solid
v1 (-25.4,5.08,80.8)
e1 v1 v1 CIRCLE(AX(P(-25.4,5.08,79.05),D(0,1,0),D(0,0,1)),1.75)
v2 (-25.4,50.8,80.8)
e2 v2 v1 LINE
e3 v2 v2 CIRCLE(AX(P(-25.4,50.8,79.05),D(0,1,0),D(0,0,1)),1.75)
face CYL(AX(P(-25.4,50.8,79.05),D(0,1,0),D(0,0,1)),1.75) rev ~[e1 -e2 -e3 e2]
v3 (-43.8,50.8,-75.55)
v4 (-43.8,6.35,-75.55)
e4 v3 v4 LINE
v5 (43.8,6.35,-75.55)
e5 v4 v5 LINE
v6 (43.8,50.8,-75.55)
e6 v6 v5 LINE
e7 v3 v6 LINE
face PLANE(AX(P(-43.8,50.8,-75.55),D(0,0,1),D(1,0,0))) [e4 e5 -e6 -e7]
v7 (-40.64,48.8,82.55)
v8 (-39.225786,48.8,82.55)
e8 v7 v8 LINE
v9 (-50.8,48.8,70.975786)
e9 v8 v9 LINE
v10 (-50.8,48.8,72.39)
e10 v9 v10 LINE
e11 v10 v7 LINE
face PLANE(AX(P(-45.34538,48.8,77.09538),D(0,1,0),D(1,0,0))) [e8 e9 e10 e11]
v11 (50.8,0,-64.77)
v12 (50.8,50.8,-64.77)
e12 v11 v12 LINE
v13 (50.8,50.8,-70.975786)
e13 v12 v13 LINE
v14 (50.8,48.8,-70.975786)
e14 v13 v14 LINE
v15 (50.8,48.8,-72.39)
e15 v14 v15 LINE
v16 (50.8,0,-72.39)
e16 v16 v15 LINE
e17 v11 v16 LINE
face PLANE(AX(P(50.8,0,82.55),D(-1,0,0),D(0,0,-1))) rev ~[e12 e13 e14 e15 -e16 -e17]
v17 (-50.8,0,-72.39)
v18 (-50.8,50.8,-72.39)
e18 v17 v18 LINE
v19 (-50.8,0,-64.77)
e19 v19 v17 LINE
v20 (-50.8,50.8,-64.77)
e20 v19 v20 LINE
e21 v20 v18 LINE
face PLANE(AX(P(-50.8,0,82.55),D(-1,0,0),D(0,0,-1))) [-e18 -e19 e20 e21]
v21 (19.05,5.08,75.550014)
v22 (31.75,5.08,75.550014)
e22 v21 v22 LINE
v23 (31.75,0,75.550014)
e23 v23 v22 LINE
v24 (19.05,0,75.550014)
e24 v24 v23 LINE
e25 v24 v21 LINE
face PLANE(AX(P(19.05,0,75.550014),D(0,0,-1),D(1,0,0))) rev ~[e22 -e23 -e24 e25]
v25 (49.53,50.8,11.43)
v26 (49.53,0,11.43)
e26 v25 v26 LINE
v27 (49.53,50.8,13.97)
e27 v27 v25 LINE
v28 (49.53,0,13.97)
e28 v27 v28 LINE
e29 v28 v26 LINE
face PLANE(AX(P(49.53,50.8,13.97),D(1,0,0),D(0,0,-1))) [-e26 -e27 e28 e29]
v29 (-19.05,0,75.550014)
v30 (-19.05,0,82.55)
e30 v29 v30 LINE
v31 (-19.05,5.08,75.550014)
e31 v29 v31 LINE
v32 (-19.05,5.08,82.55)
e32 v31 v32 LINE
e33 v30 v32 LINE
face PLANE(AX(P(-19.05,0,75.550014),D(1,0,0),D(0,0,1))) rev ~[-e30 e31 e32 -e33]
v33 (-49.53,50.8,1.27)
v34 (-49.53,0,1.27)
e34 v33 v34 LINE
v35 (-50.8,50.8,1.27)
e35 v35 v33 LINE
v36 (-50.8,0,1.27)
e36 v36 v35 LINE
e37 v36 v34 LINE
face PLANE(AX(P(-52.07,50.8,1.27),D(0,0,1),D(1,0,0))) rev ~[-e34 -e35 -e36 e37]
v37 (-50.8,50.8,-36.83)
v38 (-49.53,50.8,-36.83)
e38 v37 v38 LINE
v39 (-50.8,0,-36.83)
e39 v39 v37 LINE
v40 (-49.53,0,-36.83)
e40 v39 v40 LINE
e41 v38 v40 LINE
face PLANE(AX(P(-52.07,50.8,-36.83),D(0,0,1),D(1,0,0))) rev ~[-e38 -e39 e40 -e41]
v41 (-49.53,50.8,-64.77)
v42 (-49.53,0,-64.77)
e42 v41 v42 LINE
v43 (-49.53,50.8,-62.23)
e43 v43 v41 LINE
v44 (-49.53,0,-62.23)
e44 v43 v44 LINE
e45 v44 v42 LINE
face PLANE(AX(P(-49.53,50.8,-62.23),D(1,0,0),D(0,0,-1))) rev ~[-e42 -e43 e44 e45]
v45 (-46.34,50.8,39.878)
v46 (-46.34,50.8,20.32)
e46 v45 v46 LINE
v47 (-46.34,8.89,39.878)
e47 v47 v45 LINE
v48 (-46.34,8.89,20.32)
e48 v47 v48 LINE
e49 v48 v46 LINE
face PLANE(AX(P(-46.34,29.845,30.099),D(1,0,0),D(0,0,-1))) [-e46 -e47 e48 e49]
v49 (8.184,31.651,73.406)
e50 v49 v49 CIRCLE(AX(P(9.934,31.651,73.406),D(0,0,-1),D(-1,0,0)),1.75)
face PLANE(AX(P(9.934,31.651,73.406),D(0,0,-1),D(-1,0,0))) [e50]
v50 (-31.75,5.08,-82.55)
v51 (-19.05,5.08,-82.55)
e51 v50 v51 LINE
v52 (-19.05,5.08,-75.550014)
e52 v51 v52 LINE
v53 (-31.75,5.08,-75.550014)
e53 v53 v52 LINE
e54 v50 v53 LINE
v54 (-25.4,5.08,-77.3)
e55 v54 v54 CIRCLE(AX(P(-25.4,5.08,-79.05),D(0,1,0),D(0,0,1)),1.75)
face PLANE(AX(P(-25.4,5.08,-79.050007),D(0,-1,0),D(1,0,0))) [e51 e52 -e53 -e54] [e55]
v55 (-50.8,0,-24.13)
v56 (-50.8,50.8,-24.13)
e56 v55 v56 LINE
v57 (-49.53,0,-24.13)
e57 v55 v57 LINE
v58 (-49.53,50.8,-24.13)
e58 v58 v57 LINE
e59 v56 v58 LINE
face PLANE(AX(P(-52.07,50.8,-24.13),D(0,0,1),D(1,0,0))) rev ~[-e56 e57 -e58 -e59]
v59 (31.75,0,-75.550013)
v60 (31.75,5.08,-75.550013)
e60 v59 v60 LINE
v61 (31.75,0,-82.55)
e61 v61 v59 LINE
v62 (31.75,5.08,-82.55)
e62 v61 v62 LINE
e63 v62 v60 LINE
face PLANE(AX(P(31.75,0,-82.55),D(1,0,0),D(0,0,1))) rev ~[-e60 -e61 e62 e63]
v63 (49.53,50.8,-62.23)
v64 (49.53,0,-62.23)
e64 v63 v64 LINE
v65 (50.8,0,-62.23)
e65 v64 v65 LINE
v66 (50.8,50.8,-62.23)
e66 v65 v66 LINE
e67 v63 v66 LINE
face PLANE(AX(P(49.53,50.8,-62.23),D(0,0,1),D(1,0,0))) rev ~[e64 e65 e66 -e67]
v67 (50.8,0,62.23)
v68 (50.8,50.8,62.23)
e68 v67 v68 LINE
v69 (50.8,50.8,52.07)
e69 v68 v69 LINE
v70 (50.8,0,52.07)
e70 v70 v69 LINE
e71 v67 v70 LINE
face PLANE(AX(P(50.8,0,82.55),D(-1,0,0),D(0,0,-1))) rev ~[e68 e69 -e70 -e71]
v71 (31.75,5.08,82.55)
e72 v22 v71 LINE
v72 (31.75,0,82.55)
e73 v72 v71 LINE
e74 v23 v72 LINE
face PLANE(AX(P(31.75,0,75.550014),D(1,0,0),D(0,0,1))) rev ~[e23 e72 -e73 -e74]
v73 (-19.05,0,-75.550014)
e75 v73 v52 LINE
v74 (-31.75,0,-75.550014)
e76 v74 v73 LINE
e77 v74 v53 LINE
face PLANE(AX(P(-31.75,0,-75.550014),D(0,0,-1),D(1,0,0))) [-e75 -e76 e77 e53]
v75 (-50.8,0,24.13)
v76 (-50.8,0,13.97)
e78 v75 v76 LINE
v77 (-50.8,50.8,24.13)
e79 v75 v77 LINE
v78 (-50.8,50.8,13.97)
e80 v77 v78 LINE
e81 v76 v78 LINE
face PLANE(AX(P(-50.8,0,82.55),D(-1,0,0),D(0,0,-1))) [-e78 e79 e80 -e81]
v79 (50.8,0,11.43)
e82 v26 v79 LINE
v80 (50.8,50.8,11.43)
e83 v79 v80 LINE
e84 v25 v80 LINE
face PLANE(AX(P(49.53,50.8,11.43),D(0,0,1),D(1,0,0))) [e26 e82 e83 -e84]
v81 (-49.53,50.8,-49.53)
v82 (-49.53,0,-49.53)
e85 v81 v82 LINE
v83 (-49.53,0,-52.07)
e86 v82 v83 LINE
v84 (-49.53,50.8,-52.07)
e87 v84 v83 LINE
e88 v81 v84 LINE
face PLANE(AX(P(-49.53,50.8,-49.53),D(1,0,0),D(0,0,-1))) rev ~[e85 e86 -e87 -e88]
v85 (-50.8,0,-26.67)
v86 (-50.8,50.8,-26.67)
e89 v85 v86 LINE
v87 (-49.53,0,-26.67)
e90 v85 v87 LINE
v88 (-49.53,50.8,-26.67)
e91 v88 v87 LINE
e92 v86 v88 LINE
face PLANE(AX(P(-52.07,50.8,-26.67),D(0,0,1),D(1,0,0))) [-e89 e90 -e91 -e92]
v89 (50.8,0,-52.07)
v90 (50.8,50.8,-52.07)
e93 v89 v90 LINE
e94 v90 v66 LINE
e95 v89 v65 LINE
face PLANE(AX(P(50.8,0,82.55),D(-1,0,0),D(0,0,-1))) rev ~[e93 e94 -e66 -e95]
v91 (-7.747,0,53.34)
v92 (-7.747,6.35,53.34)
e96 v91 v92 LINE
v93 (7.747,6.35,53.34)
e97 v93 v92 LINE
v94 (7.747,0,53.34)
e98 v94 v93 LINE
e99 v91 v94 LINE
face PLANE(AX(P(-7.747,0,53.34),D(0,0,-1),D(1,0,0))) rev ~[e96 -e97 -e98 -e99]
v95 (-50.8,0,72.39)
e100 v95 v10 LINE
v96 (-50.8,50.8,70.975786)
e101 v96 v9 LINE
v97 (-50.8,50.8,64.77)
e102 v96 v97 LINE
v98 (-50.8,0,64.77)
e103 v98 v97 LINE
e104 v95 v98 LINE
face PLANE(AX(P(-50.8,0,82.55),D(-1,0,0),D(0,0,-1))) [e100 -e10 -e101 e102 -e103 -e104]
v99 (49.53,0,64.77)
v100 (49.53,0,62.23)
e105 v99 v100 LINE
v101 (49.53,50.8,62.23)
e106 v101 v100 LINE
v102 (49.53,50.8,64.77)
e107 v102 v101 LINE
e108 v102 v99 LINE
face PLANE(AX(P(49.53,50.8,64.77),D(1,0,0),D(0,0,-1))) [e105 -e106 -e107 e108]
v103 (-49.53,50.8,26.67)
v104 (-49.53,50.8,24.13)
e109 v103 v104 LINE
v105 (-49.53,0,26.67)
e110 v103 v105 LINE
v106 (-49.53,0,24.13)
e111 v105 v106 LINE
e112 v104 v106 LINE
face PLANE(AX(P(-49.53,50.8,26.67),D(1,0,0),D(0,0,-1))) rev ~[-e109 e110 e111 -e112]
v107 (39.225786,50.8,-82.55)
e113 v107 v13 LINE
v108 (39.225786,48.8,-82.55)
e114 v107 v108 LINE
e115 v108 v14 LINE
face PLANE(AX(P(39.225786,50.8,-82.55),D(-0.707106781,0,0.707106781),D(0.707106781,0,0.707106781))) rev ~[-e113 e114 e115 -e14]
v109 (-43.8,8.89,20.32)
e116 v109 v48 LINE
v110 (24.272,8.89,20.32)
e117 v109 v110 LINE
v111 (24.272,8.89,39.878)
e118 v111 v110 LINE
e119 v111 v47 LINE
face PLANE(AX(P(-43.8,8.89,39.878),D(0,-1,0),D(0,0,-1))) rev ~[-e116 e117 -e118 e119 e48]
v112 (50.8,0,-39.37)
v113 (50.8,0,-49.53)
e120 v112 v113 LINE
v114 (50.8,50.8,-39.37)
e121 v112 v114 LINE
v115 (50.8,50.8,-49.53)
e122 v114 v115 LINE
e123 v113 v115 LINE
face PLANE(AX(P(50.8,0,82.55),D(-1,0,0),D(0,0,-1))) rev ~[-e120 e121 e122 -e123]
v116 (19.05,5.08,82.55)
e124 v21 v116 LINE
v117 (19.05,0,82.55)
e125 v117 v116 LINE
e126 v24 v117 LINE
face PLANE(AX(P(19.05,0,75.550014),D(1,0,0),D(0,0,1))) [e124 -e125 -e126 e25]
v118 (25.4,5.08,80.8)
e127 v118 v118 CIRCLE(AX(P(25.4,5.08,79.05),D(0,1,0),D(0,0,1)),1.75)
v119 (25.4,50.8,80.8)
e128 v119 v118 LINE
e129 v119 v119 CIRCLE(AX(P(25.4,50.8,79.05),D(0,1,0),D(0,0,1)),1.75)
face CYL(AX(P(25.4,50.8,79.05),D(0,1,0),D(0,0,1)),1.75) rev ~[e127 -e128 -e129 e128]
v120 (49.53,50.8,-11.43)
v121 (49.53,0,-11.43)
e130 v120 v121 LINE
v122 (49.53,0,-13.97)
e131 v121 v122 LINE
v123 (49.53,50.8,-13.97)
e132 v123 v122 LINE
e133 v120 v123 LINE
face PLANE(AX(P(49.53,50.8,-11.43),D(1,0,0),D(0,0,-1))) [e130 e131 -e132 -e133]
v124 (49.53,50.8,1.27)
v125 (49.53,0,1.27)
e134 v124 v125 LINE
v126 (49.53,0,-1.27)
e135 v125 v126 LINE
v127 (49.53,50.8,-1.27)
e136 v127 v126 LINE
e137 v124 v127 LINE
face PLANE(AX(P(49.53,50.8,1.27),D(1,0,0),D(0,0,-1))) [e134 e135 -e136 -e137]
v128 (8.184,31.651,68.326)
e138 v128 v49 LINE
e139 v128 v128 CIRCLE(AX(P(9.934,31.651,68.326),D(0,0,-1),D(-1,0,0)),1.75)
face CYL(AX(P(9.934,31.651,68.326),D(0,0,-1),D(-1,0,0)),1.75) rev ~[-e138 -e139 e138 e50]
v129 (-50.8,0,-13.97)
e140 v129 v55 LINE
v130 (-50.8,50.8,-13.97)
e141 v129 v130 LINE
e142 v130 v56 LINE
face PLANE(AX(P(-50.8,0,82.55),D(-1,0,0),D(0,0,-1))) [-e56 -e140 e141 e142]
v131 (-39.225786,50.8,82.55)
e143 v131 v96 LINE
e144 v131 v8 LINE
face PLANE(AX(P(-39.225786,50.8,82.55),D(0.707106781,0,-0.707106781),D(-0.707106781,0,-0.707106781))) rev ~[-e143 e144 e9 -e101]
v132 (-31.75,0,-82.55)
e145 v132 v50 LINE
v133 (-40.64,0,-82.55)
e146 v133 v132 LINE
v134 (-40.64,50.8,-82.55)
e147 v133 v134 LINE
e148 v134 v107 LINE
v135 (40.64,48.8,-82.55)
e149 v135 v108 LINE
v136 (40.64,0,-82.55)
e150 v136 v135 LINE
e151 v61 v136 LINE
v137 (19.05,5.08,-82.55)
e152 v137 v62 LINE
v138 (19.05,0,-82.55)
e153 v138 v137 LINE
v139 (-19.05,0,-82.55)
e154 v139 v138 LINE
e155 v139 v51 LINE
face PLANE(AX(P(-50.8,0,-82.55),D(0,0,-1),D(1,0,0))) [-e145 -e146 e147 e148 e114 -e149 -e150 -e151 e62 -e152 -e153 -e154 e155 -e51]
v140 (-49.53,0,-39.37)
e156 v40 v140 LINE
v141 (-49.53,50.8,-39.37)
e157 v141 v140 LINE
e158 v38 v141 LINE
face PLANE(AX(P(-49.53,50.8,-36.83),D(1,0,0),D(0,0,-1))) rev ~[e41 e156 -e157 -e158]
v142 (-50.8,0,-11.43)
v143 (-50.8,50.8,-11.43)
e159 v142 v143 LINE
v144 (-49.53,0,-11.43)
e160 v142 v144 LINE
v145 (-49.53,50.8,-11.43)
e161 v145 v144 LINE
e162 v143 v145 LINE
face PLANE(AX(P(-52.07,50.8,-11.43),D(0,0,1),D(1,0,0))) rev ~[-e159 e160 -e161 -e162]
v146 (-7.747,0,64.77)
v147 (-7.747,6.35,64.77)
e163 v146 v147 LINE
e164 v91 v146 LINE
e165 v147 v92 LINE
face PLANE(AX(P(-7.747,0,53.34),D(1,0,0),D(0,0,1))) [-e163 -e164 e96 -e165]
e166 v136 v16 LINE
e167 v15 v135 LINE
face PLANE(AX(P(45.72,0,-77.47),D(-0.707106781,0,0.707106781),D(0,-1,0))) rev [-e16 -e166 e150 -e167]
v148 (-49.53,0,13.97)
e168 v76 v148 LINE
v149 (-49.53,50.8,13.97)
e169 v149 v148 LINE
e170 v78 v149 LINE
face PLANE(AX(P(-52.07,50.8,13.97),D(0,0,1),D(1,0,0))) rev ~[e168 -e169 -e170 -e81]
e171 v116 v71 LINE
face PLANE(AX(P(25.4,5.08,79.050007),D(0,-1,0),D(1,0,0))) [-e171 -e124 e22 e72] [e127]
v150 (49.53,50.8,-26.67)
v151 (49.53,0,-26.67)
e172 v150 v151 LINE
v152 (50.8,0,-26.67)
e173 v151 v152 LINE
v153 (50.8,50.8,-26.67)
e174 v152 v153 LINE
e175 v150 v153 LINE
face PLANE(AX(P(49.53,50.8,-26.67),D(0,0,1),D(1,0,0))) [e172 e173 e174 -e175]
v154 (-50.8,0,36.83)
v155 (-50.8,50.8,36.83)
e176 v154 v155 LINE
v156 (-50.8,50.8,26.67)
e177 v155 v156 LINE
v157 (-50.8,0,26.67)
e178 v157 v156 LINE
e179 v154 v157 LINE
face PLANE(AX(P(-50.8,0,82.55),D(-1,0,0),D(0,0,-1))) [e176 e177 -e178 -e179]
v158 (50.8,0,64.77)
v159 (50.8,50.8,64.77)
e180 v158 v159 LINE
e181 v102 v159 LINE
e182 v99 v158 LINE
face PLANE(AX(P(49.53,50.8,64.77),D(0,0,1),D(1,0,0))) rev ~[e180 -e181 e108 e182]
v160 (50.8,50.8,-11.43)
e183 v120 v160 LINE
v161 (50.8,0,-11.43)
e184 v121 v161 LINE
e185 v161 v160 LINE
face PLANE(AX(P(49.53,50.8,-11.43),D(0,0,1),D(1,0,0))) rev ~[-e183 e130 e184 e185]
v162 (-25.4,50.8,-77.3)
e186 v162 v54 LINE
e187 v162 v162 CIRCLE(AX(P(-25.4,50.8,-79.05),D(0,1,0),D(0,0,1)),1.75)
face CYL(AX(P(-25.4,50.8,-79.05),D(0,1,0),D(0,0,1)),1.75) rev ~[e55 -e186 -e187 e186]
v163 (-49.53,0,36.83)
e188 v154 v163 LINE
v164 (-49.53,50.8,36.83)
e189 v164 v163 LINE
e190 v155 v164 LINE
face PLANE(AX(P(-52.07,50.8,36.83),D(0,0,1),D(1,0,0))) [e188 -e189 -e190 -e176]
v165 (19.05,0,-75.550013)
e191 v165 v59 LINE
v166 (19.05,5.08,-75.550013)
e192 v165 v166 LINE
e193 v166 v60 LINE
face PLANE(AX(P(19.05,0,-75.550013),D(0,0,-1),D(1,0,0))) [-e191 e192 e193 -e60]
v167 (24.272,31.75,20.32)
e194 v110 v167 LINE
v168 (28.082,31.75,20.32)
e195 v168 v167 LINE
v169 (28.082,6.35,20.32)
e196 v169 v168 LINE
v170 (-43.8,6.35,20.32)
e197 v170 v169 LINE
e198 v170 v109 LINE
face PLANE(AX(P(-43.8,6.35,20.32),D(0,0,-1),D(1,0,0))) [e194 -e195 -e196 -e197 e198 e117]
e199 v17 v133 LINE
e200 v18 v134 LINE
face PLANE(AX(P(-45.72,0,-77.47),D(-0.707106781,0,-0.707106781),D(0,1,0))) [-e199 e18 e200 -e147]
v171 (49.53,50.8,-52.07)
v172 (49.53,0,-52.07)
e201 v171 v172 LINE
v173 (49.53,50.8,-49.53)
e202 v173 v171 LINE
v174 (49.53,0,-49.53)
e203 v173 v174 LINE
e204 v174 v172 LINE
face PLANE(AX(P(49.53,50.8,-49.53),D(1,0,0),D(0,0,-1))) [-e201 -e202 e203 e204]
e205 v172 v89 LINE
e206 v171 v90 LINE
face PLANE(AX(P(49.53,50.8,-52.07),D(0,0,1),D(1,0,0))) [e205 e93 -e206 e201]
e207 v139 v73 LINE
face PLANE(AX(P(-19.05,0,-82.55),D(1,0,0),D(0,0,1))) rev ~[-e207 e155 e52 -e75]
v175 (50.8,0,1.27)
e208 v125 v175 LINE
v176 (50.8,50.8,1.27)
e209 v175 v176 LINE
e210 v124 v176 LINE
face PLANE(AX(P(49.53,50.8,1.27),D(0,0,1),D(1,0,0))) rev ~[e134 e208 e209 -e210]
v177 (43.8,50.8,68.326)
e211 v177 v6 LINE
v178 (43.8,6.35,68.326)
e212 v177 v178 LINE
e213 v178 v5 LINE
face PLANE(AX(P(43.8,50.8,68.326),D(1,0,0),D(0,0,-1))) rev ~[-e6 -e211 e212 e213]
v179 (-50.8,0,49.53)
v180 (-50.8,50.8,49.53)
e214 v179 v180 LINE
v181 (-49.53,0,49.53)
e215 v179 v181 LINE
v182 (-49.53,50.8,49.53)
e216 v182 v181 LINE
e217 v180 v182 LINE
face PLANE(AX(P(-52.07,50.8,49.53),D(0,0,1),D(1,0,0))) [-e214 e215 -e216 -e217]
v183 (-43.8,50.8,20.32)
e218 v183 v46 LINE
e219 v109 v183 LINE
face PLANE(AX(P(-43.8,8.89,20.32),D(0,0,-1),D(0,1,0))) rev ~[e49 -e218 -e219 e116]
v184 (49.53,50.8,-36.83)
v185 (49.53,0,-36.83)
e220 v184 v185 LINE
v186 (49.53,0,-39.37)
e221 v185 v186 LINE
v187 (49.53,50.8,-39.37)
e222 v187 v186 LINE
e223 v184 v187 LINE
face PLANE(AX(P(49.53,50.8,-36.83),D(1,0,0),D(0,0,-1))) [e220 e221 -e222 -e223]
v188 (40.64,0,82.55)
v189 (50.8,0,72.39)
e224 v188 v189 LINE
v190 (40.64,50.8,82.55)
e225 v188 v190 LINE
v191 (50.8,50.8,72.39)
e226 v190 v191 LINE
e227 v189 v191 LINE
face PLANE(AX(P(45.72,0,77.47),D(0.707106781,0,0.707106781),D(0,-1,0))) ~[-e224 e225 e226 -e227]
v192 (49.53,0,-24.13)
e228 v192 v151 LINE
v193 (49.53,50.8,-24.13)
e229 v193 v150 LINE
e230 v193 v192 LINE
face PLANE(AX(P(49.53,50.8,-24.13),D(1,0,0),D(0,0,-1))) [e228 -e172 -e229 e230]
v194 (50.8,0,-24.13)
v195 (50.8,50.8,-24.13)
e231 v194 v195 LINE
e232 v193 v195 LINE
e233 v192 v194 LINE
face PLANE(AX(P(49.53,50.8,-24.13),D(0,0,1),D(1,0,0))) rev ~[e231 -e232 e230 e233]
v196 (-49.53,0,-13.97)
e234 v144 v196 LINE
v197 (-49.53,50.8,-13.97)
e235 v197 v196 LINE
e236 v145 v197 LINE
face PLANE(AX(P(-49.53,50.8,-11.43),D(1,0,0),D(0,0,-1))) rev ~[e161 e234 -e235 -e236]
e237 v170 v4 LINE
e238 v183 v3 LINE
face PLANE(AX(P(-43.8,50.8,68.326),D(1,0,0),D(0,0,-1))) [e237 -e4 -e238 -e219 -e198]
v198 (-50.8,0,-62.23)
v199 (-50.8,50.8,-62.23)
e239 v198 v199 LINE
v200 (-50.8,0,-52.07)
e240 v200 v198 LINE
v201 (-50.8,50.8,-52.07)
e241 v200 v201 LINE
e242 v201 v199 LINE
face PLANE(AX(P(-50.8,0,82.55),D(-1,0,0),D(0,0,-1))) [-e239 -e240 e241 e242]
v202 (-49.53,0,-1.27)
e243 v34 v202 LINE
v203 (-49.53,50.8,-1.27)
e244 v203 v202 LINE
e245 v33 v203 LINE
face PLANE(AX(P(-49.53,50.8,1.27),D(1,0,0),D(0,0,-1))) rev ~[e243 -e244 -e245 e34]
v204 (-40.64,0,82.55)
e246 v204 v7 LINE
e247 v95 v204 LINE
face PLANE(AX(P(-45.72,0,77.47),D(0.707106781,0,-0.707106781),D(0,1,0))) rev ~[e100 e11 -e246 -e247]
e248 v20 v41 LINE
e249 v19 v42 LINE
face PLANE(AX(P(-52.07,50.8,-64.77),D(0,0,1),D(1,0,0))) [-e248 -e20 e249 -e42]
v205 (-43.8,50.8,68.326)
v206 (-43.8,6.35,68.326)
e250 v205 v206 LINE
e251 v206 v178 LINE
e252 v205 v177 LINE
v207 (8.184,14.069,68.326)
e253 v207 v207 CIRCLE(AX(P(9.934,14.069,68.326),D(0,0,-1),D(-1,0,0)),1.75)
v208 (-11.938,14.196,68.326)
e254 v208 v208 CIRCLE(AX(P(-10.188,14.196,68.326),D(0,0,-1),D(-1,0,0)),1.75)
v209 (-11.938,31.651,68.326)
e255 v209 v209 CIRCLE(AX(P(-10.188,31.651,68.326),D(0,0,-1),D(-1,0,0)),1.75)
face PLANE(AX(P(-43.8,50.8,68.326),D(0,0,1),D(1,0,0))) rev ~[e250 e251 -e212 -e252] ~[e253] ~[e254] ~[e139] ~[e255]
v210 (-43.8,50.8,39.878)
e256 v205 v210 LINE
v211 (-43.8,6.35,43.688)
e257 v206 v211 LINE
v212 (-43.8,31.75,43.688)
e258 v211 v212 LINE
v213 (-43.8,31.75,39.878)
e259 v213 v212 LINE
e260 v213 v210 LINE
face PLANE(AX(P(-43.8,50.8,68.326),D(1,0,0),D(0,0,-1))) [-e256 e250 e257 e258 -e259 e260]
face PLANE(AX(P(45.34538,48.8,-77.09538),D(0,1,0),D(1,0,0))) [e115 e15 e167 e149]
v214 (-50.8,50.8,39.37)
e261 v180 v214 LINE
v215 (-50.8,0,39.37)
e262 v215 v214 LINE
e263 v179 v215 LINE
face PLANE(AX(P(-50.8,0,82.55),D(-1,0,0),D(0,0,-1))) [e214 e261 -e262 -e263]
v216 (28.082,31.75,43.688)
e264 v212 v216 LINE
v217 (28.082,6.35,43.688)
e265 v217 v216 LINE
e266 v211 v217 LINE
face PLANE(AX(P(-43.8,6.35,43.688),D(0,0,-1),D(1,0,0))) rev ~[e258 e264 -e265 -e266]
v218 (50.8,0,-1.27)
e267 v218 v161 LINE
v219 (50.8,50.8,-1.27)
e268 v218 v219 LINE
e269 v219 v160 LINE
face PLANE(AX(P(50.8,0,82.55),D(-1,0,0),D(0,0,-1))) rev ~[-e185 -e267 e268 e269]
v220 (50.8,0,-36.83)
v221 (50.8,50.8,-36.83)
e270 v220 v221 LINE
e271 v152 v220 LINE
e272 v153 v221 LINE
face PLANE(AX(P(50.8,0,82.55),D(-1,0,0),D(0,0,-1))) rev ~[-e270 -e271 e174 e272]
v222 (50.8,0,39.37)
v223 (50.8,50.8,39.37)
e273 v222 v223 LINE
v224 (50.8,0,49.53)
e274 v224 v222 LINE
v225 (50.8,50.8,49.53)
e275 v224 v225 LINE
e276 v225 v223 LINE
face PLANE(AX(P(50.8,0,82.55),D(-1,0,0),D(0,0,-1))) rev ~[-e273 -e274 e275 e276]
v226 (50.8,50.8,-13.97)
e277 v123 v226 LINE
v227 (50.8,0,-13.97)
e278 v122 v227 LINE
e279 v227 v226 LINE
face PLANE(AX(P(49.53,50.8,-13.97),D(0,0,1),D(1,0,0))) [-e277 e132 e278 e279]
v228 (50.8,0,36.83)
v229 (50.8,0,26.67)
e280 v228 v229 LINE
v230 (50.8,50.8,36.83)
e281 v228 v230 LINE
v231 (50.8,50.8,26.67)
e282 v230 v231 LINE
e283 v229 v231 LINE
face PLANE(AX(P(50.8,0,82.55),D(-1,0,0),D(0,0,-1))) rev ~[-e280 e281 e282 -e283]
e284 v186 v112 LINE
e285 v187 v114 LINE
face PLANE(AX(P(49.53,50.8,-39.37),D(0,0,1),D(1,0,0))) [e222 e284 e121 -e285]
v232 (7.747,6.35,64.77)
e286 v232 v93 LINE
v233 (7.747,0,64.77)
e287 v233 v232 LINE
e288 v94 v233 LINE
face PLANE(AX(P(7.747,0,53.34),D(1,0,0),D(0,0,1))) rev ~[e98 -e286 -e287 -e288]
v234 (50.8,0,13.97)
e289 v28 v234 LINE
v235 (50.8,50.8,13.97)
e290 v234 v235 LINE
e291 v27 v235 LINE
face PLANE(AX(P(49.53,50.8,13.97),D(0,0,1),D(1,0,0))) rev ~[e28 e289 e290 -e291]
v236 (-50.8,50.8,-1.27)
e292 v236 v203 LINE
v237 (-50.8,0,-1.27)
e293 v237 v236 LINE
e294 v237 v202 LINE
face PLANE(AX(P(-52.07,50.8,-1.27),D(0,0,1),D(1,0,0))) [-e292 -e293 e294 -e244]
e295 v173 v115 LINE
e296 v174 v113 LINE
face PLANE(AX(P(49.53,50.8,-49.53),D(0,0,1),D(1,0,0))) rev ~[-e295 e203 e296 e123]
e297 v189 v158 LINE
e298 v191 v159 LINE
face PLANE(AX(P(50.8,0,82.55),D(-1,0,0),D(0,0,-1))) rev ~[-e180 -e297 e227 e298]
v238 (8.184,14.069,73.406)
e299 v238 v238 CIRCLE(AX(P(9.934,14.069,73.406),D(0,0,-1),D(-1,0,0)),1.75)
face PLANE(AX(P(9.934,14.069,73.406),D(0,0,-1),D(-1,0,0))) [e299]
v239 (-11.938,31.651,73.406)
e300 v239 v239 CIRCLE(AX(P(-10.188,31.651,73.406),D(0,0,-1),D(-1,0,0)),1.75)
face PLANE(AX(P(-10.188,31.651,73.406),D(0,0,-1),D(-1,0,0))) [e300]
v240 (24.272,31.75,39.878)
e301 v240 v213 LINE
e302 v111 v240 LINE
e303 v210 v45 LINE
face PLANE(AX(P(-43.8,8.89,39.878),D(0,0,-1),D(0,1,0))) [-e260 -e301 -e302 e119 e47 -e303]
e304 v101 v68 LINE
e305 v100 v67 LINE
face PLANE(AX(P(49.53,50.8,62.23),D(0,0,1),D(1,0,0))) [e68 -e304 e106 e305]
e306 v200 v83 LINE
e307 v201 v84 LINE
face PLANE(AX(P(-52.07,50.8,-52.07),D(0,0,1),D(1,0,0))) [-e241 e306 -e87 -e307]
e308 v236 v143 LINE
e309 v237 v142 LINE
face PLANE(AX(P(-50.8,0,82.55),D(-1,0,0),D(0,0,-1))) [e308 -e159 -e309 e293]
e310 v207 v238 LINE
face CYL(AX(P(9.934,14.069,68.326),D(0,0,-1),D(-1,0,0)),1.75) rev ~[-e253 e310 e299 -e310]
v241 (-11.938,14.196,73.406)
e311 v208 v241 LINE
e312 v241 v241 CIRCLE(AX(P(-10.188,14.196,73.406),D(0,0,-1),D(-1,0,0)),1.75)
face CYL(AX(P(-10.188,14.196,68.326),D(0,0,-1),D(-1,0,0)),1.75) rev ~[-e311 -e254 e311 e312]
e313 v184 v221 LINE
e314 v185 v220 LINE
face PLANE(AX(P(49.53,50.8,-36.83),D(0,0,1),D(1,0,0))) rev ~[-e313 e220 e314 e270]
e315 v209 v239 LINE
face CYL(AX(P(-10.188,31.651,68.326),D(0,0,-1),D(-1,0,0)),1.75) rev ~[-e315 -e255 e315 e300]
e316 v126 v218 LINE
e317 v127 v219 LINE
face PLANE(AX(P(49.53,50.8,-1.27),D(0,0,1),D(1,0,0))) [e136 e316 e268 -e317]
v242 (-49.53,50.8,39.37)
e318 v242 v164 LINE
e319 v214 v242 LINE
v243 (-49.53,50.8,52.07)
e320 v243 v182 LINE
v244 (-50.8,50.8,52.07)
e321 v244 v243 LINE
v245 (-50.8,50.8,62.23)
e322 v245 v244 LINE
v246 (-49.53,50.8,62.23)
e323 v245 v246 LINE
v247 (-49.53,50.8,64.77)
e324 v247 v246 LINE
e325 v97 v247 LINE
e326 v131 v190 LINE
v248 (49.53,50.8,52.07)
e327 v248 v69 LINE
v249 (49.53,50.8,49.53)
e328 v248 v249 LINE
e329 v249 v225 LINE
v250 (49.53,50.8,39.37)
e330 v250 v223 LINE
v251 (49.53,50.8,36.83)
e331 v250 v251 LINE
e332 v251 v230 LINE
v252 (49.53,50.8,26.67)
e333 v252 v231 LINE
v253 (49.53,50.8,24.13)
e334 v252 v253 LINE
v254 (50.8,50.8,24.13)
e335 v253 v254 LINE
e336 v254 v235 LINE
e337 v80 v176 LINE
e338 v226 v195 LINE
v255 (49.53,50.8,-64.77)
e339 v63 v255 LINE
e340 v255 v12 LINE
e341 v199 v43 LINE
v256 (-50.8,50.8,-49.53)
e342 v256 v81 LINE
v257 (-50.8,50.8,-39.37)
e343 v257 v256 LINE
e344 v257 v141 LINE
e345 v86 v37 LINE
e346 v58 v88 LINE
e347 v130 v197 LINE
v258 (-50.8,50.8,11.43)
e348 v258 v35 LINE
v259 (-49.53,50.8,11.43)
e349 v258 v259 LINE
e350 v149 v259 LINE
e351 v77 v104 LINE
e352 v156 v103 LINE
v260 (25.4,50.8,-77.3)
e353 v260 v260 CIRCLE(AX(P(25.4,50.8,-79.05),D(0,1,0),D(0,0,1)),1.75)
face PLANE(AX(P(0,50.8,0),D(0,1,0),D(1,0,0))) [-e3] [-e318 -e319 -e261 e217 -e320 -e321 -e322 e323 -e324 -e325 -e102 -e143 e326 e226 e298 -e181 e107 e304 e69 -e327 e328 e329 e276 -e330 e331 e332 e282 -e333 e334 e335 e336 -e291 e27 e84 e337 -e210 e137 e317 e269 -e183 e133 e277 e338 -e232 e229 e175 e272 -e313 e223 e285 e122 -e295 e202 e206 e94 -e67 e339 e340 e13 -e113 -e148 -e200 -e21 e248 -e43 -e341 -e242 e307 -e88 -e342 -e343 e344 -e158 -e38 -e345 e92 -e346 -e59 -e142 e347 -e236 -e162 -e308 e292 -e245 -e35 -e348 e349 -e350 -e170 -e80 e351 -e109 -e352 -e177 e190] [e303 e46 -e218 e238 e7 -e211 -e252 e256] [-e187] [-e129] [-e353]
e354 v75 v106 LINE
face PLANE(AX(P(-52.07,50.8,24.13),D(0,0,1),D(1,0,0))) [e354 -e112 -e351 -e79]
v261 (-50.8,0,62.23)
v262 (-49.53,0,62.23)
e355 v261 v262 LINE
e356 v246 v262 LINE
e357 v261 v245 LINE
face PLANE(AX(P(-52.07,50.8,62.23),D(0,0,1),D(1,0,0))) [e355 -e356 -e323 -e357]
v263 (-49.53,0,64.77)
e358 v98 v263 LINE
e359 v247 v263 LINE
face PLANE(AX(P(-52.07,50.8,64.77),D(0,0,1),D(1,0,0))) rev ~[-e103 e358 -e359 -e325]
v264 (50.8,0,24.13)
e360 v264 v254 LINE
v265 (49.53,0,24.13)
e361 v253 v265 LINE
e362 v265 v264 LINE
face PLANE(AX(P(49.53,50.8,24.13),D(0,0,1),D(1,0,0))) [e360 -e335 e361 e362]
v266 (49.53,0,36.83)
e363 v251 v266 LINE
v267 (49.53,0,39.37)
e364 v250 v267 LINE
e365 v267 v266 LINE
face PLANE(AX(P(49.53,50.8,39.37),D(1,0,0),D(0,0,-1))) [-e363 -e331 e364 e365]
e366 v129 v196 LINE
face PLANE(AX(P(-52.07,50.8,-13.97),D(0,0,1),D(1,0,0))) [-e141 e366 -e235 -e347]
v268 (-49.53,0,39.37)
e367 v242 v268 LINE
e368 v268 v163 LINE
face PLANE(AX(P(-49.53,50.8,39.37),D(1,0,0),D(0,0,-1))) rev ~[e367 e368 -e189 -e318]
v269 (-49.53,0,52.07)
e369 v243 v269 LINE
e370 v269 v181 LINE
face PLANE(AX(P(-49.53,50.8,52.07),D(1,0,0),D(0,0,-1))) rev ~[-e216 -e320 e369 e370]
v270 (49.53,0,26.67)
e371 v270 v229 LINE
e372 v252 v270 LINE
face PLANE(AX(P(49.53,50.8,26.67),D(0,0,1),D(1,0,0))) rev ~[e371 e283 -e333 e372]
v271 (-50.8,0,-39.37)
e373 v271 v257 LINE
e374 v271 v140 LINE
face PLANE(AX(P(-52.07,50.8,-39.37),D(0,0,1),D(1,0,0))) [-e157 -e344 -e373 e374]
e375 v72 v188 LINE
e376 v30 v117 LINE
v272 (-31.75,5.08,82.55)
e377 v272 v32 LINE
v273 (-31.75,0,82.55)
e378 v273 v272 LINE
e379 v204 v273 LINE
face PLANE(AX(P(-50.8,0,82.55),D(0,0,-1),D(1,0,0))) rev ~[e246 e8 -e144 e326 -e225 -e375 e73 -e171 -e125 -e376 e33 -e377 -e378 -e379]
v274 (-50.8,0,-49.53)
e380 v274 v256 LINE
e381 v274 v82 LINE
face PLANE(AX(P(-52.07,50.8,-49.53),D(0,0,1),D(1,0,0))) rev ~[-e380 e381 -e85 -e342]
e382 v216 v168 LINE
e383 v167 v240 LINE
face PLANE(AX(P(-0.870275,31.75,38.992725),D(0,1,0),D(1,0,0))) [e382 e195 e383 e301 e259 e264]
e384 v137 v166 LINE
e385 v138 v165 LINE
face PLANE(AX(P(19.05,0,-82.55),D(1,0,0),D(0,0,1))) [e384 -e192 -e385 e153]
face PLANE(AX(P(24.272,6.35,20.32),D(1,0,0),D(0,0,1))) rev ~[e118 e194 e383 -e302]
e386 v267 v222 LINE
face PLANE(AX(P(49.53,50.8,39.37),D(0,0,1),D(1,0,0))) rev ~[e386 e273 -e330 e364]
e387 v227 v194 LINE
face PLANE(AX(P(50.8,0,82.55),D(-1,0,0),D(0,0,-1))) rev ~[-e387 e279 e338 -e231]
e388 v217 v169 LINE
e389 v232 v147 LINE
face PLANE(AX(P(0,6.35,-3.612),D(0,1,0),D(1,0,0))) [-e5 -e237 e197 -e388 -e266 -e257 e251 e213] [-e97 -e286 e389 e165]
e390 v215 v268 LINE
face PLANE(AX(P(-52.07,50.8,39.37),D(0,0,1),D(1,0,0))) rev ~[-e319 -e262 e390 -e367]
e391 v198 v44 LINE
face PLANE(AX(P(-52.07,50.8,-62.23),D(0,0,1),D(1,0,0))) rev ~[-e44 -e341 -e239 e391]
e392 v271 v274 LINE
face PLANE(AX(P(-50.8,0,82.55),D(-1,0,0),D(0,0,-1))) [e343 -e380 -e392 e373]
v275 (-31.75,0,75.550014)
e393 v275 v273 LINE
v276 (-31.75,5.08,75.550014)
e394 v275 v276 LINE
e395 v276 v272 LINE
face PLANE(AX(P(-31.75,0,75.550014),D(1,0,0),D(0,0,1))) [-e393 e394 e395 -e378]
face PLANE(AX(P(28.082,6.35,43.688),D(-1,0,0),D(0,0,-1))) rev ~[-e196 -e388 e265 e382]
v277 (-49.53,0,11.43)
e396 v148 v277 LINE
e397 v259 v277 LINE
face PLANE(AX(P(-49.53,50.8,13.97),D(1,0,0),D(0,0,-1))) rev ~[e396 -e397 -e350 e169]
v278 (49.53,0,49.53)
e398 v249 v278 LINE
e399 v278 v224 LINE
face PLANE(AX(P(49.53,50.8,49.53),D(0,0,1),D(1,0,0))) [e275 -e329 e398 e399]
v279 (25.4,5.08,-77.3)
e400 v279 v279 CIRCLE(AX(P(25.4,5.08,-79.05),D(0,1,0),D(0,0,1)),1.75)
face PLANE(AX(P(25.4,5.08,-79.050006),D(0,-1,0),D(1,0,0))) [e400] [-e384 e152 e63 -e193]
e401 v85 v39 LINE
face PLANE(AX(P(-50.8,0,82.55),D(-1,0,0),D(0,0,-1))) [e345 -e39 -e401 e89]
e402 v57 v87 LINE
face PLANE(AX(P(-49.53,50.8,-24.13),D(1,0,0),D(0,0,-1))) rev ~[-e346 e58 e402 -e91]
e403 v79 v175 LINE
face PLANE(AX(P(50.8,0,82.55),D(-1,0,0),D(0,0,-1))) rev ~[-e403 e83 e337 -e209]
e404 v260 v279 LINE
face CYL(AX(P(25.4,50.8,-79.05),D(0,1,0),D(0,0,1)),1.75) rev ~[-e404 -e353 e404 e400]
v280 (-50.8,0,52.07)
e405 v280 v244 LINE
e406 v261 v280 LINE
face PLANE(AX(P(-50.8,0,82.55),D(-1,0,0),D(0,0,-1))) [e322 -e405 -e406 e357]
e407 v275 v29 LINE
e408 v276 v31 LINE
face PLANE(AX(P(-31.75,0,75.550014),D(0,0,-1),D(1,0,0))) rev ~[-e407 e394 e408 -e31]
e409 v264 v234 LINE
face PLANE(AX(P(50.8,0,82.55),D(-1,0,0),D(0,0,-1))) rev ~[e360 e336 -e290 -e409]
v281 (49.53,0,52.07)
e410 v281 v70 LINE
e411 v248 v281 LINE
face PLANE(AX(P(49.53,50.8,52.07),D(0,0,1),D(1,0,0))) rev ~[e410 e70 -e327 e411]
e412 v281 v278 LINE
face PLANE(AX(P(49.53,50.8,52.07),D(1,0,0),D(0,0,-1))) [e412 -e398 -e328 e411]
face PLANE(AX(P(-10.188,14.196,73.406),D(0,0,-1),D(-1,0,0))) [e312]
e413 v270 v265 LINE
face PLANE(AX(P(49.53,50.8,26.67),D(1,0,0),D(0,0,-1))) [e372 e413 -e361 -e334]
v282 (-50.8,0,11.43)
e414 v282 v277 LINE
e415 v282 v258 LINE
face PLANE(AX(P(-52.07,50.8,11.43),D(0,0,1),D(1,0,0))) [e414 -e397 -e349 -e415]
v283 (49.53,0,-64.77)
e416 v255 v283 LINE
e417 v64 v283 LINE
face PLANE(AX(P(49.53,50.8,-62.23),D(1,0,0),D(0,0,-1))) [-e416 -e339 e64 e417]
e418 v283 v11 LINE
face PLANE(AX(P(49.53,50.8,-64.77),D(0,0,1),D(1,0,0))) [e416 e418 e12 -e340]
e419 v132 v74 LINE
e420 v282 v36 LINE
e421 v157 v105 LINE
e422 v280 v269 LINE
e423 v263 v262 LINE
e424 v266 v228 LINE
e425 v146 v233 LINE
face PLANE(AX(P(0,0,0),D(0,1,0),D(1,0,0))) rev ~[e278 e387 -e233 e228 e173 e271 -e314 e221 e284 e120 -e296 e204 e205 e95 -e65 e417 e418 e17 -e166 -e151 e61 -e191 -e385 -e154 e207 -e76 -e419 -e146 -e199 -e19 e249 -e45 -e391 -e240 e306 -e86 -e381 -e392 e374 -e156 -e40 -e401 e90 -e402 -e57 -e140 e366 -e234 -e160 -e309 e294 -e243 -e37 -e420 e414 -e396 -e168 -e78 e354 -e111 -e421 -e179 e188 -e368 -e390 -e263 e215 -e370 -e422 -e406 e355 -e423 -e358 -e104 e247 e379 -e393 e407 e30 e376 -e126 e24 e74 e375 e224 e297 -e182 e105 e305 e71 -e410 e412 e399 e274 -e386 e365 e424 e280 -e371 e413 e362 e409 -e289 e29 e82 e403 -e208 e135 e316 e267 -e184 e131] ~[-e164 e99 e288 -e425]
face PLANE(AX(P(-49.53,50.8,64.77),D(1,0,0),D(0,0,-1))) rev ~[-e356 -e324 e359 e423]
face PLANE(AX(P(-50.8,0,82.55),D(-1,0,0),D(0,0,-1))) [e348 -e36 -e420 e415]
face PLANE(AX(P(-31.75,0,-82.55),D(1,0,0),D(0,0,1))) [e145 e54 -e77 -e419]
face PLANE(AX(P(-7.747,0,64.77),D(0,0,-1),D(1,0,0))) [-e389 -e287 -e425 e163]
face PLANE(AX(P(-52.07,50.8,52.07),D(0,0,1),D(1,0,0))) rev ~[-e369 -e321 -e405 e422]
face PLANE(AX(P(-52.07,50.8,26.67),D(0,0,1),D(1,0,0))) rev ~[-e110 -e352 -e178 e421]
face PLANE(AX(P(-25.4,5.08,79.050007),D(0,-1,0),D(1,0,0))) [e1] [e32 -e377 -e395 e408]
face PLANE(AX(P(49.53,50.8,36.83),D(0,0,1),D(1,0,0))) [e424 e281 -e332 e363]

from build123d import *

# Parameters (mm, degrees)
SKETCH1_W           = 101.6
SKETCH1_H           = 165.1
BOSS_EXTRUDE1_DEPTH = 50.8
SKETCH2_W           = 2.54
SKETCH2_H           = 2.54
CUT_EXTRUDE1_DEPTH  = 110.433918417
CHAMFER1_SIZE       = 10.16
SKETCH3_W           = 87.6
SKETCH3_H           = 143.876
CUT_EXTRUDE2_DEPTH  = 44.45
CUT_EXTRUDE3_DEPTH  = 2
SKETCH5_R           = 1.750000056
CUT_EXTRUDE4_DEPTH  = 110.433918417
SKETCH6_W           = 12.7
SKETCH6_H           = 6.999986
SKETCH6_H_2         = 6.999987499
CUT_EXTRUDE5_DEPTH  = 5.08
SKETCH7_W           = 15.494
SKETCH7_H           = 11.43
CUT_EXTRUDE6_DEPTH  = 110.433918417
SKETCH9_R           = 1.75
CUT_EXTRUDE7_DEPTH  = 5.08
SKETCH10_W          = 68.072
SKETCH10_H          = 19.558
BOSS_EXTRUDE2_DEPTH = 2.54
BOSS_EXTRUDE3_DEPTH = 25.4
SKETCH12_W          = 19.558
SKETCH12_H          = 41.91
CUT_EXTRUDE8_DEPTH  = 2.54


with BuildPart() as part:
    # Sketch1 → Boss-Extrude1 (new body)
    with BuildSketch(Plane(origin=(0, 0, 0), x_dir=(1, 0, 0), z_dir=(0, 1, 0))):
        Rectangle(SKETCH1_W, SKETCH1_H)
    extrude(amount=BOSS_EXTRUDE1_DEPTH)

    # Sketch2 → Cut-Extrude1 (cut, through all)
    with BuildSketch(Plane(origin=(0, 50.8, 0), x_dir=(1, 0, 0), z_dir=(0, 1, 0))):
        with Locations((-50.8, -63.5)):
            Rectangle(SKETCH2_W, SKETCH2_H)
        with Locations((50.8, -63.5)):
            Rectangle(SKETCH2_W, SKETCH2_H)
        with Locations((-50.8, -50.8)):
            Rectangle(SKETCH2_W, SKETCH2_H)
        with Locations((50.8, -50.8)):
            Rectangle(SKETCH2_W, SKETCH2_H)
        with Locations((-50.8, -38.1)):
            Rectangle(SKETCH2_W, SKETCH2_H)
        with Locations((50.8, -38.1)):
            Rectangle(SKETCH2_W, SKETCH2_H)
        with Locations((-50.8, -25.4)):
            Rectangle(SKETCH2_W, SKETCH2_H)
        with Locations((50.8, -25.4)):
            Rectangle(SKETCH2_W, SKETCH2_H)
        with Locations((-50.8, -12.7)):
            Rectangle(SKETCH2_W, SKETCH2_H)
        with Locations((50.8, -12.7)):
            Rectangle(SKETCH2_W, SKETCH2_H)
        with Locations((-50.8, 0)):
            Rectangle(SKETCH2_W, SKETCH2_H)
        with Locations((50.8, 0)):
            Rectangle(SKETCH2_W, SKETCH2_H)
        with Locations((-50.8, 12.7)):
            Rectangle(SKETCH2_W, SKETCH2_H)
        with Locations((50.8, 12.7)):
            Rectangle(SKETCH2_W, SKETCH2_H)
        with Locations((-50.8, 25.4)):
            Rectangle(SKETCH2_W, SKETCH2_H)
        with Locations((50.8, 25.4)):
            Rectangle(SKETCH2_W, SKETCH2_H)
        with Locations((-50.8, 38.1)):
            Rectangle(SKETCH2_W, SKETCH2_H)
        with Locations((50.8, 38.1)):
            Rectangle(SKETCH2_W, SKETCH2_H)
        with Locations((-50.8, 50.8)):
            Rectangle(SKETCH2_W, SKETCH2_H)
        with Locations((50.8, 50.8)):
            Rectangle(SKETCH2_W, SKETCH2_H)
        with Locations((-50.8, 63.5)):
            Rectangle(SKETCH2_W, SKETCH2_H)
        with Locations((50.8, 63.5)):
            Rectangle(SKETCH2_W, SKETCH2_H)
    extrude(amount=-CUT_EXTRUDE1_DEPTH, mode=Mode.SUBTRACT)

    # Chamfer1
    chamfer1_edges = [part.edges().sort_by_distance(p)[0] for p in [
        (50.8, 25.4, 82.55),
        (-50.8, 25.4, 82.55),
        (-50.8, 25.4, -82.55),
        (50.8, 25.4, -82.55),
    ]]
    chamfer(chamfer1_edges, length=CHAMFER1_SIZE)

    # Sketch3 → Cut-Extrude2 (cut)
    with BuildSketch(Plane(origin=(0, 50.8, 0), x_dir=(1, 0, 0), z_dir=(0, 1, 0))):
        with Locations((0, 3.612)):
            Rectangle(SKETCH3_W, SKETCH3_H)
    extrude(amount=-CUT_EXTRUDE2_DEPTH, mode=Mode.SUBTRACT)

    # Sketch4 → Cut-Extrude3 (cut)
    with BuildSketch(Plane(origin=(0, 50.8, 0), x_dir=(1, 0, 0), z_dir=(0, 1, 0))):
        Polygon((45.012893219, 76.762893219), (50.8, 70.975786438), (50.8, 72.39), (40.64, 82.55), (39.225786438, 82.55), align=None)
        Polygon((-45.012893219, -76.762893219), (-50.8, -70.975786438), (-50.8, -72.39), (-40.64, -82.55), (-39.225786438, -82.55), align=None)
    extrude(amount=-CUT_EXTRUDE3_DEPTH, mode=Mode.SUBTRACT)

    # Sketch5 → Cut-Extrude4 (cut, through all)
    with BuildSketch(Plane(origin=(0, 50.8, 0), x_dir=(1, 0, 0), z_dir=(0, 1, 0))):
        with Locations(Location((-25.4, -79.05, 0), (0, 0, 270))):
            Circle(SKETCH5_R)
        with Locations(Location((25.4, -79.05, 0), (0, 0, 270))):
            Circle(SKETCH5_R)
        with Locations(Location((25.4, 79.05, 0), (0, 0, 270))):
            Circle(SKETCH5_R)
        with Locations(Location((-25.4, 79.05, 0), (0, 0, 270))):
            Circle(SKETCH5_R)
    extrude(amount=-CUT_EXTRUDE4_DEPTH, mode=Mode.SUBTRACT)

    # Sketch6 → Cut-Extrude5 (cut)
    with BuildSketch(Plane.XZ):
        with Locations((-25.4, 79.050007)):
            Rectangle(SKETCH6_W, SKETCH6_H)
        with Locations((25.4, 79.050007)):
            Rectangle(SKETCH6_W, SKETCH6_H)
        with Locations((-25.4, -79.050007)):
            Rectangle(SKETCH6_W, SKETCH6_H)
        with Locations((25.4, -79.050006251)):
            Rectangle(SKETCH6_W, SKETCH6_H_2)
    extrude(amount=-CUT_EXTRUDE5_DEPTH, mode=Mode.SUBTRACT)

    # Sketch7 → Cut-Extrude6 (cut, through all)
    with BuildSketch(Plane.XZ):
        with Locations((0, 59.055)):
            Rectangle(SKETCH7_W, SKETCH7_H)
    extrude(amount=-CUT_EXTRUDE6_DEPTH, mode=Mode.SUBTRACT)

    # Sketch9 → Cut-Extrude7 (cut)
    with BuildSketch(Plane(origin=(0, 0, 68.326), x_dir=(-1, 0, 0), z_dir=(0, 0, -1))):
        with Locations((-9.933999944, 31.651)):
            Circle(SKETCH9_R)
        with Locations((10.187999944, 31.650999944)):
            Circle(SKETCH9_R)
        with Locations((10.187999944, 14.196)):
            Circle(SKETCH9_R)
        with Locations((-9.933999944, 14.069000056)):
            Circle(SKETCH9_R)
    extrude(amount=-CUT_EXTRUDE7_DEPTH, mode=Mode.SUBTRACT)

    # Sketch10 → Boss-Extrude2 (add)
    with BuildSketch(Plane(origin=(0, 6.35, 0), x_dir=(1, 0, 0), z_dir=(0, 1, 0))):
        with Locations((-9.764, -30.099)):
            Rectangle(SKETCH10_W, SKETCH10_H)
    extrude(amount=BOSS_EXTRUDE2_DEPTH)

    # Sketch11 → Boss-Extrude3 (add)
    with BuildSketch(Plane(origin=(0, 6.35, 0), x_dir=(1, 0, 0), z_dir=(0, 1, 0))):
        Polygon((-43.8, -43.688), (28.082, -43.688), (28.082, -20.32), (24.272, -20.32), (24.272, -39.878), (-43.8, -39.878), align=None)
    extrude(amount=BOSS_EXTRUDE3_DEPTH)

    # Sketch12 → Cut-Extrude8 (cut)
    with BuildSketch(Plane(origin=(-43.8, 0, 0), x_dir=(0, 0, -1), z_dir=(1, 0, 0))):
        with Locations((-30.099, 29.845)):
            Rectangle(SKETCH12_W, SKETCH12_H)
    extrude(amount=-CUT_EXTRUDE8_DEPTH, mode=Mode.SUBTRACT)


solid = part.part
